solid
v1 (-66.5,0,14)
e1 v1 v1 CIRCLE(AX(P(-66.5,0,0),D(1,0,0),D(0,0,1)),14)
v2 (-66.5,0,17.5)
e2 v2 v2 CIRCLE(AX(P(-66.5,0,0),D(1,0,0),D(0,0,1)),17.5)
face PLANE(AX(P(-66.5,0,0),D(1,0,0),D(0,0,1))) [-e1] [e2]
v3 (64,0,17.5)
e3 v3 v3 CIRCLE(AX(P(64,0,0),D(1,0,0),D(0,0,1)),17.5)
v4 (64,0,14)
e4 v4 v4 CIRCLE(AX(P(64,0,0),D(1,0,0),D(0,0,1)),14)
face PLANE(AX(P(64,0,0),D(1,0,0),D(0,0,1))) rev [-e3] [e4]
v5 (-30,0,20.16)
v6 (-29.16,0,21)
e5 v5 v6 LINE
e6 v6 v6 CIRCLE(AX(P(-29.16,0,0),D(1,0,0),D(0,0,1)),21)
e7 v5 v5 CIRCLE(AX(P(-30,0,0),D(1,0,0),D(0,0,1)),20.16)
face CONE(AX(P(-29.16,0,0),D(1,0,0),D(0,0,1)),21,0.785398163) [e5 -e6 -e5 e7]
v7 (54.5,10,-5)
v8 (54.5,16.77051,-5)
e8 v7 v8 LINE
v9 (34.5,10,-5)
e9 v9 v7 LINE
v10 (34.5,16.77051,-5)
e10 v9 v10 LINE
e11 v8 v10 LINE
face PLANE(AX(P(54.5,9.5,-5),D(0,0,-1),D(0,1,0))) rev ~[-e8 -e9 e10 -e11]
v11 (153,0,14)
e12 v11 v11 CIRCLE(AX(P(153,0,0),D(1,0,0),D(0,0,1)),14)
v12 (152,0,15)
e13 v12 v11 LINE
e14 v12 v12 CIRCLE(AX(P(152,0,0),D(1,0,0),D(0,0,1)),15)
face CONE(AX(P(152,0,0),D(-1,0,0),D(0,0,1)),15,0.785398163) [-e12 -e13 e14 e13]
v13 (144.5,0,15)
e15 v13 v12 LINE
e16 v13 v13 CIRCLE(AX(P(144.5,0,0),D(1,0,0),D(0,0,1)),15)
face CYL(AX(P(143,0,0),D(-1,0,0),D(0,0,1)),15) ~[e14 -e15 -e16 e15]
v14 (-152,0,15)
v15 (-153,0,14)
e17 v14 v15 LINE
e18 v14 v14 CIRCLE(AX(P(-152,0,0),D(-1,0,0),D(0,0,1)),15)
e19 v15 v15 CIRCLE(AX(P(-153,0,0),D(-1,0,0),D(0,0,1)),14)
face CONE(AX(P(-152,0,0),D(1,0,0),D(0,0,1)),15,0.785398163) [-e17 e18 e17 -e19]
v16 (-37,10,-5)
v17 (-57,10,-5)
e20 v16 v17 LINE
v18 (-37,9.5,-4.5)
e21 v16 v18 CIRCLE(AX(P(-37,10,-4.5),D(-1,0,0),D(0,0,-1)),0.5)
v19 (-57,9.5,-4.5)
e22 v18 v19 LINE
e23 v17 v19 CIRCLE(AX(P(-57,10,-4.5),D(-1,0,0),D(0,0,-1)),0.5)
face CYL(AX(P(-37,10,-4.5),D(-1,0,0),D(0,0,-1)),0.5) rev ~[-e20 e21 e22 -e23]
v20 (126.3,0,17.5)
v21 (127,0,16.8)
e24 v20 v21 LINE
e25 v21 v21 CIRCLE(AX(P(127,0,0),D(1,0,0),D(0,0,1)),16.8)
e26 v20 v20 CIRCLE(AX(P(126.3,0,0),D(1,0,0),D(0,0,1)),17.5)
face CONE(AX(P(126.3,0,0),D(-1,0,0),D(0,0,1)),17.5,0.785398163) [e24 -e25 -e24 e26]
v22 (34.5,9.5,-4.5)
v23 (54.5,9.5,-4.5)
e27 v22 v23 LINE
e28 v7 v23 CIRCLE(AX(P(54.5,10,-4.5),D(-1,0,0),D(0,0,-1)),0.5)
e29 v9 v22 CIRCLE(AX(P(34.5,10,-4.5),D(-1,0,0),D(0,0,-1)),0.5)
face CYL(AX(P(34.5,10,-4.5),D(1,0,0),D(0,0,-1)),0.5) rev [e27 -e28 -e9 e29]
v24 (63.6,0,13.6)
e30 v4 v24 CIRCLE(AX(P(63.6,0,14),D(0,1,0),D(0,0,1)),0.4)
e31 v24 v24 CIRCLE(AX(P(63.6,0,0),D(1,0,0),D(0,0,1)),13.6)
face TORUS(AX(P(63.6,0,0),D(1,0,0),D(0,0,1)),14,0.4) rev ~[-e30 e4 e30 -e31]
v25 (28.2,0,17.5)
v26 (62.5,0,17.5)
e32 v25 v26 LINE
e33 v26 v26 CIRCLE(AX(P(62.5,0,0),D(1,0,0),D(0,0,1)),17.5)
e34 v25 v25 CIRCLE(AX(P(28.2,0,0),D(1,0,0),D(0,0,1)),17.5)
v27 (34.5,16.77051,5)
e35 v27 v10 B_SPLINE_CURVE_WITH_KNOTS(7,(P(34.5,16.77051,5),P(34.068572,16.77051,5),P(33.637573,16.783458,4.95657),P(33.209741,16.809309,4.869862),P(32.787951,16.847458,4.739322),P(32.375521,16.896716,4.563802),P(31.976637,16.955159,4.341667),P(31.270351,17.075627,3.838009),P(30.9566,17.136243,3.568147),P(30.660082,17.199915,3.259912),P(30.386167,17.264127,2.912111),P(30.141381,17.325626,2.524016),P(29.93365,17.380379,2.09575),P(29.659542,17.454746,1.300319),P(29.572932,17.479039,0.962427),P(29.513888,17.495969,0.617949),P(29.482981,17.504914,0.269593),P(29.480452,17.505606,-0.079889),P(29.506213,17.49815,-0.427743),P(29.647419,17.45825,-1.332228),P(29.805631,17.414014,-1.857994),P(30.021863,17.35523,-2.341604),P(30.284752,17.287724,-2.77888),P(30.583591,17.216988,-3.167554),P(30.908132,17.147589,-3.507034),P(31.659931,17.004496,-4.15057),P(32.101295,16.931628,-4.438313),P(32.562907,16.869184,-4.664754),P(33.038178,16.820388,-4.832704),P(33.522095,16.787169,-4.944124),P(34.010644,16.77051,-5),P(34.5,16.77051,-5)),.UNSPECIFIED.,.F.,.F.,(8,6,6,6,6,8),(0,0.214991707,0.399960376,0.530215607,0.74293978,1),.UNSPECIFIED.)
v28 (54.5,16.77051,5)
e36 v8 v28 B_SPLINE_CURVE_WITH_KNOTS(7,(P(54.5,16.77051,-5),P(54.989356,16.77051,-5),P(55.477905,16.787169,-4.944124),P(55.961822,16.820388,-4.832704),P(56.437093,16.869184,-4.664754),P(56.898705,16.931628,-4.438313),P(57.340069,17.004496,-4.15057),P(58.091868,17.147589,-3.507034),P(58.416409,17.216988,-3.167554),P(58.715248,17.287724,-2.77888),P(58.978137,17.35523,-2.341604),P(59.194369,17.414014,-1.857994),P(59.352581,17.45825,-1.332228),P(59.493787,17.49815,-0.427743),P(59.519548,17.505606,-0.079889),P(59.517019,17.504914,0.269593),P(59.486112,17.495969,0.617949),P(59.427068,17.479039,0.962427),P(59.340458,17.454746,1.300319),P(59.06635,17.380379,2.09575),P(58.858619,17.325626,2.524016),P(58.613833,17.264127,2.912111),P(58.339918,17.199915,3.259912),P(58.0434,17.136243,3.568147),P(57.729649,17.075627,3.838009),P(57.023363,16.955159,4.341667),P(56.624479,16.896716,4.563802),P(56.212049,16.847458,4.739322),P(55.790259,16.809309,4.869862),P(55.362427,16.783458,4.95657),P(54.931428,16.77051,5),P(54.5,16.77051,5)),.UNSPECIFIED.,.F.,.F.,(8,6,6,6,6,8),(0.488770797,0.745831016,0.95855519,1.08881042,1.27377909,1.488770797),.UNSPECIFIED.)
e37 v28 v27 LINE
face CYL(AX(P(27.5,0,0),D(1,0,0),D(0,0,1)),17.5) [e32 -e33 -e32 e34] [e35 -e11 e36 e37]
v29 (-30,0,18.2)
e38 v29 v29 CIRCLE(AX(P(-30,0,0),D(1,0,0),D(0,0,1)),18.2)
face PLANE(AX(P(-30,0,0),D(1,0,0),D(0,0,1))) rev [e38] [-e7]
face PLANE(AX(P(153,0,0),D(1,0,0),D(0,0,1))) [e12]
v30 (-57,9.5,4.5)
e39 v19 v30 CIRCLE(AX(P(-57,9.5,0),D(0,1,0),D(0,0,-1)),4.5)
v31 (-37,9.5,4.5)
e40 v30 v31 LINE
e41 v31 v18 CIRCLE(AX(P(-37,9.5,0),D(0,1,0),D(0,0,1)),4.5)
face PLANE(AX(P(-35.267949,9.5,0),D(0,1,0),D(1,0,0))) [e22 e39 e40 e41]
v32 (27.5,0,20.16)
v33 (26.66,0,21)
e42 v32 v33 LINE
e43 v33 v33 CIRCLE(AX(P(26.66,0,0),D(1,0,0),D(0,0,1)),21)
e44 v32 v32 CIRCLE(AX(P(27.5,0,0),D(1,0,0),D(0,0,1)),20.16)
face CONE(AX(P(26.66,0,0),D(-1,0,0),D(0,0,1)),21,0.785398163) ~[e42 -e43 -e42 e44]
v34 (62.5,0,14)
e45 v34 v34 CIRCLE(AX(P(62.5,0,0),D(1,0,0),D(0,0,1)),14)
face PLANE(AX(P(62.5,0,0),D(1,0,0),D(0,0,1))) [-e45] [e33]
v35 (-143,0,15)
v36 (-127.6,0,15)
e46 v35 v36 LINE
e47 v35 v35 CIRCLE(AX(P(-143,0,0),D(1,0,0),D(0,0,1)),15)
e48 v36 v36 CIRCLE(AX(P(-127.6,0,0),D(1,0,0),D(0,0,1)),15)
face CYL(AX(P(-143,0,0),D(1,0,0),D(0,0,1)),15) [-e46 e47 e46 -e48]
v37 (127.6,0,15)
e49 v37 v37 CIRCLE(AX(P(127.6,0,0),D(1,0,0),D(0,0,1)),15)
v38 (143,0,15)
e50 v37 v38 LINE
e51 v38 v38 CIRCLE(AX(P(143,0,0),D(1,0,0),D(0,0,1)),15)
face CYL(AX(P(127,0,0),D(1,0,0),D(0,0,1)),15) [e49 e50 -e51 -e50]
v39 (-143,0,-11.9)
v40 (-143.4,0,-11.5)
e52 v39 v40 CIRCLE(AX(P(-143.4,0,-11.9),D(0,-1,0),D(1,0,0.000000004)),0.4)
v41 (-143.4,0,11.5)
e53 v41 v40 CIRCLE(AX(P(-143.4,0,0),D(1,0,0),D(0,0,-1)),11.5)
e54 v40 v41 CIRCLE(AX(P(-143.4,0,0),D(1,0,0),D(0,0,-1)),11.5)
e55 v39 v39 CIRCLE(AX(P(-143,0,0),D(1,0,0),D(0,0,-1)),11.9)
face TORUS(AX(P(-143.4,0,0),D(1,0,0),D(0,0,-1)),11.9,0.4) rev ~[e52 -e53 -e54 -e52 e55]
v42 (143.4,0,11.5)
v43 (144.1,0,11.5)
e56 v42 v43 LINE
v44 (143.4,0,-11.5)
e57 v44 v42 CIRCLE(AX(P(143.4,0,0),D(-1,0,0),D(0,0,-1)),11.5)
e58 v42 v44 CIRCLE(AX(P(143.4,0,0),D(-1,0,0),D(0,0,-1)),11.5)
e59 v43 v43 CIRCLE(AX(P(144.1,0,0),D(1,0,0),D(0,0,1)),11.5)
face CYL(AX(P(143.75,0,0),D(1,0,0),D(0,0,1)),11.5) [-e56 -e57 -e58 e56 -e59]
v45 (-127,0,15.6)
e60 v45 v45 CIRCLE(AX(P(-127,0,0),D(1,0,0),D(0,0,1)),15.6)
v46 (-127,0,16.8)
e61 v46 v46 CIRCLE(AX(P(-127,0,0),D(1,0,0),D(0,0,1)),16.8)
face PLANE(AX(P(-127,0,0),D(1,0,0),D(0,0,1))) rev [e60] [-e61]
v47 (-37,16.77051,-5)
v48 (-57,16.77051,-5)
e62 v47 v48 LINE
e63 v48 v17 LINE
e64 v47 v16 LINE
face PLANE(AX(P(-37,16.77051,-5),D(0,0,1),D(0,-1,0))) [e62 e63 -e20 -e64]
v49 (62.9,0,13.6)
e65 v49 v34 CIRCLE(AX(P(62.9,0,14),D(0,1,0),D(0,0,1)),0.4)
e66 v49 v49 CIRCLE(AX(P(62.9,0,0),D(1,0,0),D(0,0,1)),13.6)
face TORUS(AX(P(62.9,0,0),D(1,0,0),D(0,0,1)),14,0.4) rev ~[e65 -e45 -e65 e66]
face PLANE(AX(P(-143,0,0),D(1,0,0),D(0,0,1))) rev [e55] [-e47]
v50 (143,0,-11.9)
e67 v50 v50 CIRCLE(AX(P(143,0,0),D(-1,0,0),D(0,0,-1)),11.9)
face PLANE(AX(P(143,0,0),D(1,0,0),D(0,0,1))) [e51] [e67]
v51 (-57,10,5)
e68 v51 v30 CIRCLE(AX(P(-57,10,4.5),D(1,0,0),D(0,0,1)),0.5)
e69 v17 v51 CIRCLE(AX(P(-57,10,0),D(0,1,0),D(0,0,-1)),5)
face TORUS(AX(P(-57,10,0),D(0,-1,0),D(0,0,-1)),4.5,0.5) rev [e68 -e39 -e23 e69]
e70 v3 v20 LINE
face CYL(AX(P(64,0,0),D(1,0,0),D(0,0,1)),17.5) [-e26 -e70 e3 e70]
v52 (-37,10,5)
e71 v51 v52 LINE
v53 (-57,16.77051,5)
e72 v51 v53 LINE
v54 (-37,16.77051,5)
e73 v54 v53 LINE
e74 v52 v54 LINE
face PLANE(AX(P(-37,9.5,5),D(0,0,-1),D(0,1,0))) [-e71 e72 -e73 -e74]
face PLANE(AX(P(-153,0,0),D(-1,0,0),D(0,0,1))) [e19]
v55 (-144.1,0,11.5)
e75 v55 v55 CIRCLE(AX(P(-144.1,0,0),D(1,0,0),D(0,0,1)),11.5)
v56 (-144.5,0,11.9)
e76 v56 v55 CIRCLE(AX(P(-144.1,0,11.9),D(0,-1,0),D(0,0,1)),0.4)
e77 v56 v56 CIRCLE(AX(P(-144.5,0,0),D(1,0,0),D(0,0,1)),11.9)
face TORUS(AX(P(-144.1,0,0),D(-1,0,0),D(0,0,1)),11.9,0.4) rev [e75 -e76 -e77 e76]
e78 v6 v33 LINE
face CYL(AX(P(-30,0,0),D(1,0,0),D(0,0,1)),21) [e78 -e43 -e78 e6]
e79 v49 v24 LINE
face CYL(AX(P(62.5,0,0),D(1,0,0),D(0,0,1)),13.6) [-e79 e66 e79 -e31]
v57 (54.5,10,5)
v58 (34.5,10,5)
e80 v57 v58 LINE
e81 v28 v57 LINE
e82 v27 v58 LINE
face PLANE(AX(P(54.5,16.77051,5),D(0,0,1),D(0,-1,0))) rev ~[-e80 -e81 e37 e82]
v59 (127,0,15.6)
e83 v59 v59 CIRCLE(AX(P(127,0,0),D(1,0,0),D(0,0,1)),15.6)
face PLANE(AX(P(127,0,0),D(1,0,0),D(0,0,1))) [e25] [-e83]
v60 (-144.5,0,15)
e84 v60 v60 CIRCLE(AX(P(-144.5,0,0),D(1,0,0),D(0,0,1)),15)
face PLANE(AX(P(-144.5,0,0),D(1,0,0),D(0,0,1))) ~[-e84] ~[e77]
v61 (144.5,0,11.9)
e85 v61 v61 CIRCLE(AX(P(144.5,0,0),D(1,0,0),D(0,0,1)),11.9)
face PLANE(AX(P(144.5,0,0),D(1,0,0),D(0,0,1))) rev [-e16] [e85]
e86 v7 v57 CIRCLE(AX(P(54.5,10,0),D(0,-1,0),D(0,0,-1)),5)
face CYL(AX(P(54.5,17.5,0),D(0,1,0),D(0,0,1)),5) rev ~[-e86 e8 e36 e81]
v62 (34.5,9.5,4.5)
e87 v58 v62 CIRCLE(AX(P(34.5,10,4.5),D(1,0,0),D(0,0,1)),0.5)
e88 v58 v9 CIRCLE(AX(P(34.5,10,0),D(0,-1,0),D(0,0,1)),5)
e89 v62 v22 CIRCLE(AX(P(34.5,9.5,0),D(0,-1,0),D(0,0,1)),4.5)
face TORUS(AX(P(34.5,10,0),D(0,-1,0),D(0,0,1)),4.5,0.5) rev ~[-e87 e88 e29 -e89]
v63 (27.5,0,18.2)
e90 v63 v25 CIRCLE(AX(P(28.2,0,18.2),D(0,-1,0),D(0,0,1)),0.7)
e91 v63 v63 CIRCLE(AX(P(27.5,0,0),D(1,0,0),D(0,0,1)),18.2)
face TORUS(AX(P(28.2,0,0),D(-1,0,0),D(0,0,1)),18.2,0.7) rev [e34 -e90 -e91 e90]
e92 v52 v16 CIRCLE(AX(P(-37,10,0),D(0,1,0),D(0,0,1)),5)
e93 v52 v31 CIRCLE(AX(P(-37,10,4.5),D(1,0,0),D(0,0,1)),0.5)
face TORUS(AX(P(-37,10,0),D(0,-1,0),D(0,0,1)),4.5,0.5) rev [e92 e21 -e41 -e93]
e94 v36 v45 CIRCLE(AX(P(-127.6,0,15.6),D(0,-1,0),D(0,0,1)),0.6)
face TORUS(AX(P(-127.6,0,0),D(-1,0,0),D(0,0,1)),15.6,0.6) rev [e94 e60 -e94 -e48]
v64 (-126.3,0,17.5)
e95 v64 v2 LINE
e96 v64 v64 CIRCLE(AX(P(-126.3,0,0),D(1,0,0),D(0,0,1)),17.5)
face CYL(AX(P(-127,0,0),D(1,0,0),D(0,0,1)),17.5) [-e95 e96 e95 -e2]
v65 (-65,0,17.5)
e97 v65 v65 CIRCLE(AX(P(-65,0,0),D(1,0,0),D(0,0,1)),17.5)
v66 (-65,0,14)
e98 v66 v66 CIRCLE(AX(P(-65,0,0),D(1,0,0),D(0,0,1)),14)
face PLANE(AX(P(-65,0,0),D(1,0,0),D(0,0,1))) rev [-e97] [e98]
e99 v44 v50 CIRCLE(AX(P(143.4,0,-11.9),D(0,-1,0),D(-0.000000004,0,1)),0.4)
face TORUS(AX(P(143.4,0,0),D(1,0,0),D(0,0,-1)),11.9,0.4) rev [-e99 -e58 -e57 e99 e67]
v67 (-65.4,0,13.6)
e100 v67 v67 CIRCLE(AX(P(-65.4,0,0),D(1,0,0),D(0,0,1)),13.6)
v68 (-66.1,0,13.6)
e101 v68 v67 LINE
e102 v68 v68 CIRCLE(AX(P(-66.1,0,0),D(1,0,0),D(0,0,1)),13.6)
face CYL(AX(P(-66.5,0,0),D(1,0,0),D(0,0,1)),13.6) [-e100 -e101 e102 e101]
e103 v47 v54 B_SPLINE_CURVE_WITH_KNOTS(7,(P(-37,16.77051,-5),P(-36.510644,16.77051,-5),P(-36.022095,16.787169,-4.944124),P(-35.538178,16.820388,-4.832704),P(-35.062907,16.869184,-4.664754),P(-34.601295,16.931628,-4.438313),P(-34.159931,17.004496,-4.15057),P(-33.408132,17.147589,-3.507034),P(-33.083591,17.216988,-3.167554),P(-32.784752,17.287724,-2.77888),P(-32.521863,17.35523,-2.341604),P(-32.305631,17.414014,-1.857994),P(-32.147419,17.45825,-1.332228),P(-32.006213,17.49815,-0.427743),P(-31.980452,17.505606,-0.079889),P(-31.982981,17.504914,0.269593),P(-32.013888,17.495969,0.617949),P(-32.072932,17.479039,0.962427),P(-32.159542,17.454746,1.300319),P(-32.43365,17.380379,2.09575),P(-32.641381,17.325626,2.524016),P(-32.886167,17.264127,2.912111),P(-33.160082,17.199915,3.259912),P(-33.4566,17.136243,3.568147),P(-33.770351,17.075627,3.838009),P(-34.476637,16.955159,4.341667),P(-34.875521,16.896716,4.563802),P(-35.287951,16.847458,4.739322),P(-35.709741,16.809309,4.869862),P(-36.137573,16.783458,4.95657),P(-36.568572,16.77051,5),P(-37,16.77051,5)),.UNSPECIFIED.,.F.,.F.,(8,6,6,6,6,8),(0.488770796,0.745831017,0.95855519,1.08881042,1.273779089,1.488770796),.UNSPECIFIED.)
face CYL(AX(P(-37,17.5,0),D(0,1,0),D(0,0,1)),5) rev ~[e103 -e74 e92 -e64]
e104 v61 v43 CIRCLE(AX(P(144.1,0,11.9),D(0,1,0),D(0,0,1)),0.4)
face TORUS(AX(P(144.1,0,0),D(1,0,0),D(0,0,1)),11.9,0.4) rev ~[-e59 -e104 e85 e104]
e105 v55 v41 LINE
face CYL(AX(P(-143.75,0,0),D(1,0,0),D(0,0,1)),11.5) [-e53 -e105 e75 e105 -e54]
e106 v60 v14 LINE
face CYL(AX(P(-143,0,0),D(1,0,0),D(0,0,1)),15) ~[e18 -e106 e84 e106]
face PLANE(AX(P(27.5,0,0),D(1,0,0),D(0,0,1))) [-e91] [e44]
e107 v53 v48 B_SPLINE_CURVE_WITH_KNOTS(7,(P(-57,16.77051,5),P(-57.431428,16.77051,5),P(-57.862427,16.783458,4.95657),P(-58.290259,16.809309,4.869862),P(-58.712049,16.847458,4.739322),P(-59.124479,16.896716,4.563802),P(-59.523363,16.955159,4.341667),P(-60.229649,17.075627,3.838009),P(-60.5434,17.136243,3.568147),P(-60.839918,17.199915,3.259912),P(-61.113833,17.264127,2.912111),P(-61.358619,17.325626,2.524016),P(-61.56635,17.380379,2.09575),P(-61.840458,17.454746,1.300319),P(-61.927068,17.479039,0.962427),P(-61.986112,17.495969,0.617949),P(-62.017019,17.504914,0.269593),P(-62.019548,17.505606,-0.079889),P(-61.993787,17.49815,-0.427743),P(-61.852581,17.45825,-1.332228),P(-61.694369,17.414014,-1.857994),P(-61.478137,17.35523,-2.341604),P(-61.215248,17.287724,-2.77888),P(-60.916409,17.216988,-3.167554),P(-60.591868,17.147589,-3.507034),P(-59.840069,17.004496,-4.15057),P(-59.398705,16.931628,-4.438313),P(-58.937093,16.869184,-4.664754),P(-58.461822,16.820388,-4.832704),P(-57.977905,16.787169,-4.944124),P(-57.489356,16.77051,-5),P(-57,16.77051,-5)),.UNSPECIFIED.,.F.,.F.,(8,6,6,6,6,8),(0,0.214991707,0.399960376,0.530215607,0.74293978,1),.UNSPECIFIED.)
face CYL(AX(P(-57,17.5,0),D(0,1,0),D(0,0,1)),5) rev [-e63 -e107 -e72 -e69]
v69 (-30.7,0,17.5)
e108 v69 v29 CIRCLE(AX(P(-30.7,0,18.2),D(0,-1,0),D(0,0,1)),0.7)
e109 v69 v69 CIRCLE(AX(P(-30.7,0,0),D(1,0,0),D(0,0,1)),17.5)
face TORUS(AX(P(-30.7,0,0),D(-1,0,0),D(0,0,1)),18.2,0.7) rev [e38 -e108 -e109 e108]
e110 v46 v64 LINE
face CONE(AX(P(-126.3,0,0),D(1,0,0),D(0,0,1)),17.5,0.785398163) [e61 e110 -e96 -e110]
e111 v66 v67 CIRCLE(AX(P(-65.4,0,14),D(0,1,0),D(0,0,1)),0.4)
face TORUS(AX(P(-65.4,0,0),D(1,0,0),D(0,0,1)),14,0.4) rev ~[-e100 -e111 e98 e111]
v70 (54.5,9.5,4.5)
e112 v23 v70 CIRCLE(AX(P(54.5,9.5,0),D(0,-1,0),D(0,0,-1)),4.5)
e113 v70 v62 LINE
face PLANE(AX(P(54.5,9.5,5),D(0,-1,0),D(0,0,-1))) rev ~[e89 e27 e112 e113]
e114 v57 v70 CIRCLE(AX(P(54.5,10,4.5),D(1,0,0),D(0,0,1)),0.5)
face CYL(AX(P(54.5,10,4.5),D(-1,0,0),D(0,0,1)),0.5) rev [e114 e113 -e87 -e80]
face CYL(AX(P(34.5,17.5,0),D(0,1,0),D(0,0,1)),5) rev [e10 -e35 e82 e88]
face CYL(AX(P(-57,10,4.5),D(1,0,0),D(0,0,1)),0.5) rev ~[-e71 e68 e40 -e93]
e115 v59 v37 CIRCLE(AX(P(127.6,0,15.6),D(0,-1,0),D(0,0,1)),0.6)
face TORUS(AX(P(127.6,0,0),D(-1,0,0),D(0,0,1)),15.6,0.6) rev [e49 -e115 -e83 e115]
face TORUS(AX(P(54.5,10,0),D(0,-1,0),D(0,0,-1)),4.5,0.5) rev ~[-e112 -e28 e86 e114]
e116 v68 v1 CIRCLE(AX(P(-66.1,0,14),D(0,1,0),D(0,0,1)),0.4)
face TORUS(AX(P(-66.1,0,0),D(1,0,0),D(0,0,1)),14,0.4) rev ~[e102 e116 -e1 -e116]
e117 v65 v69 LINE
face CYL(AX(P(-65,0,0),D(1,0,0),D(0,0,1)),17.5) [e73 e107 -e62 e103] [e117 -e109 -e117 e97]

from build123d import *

# Parameters (mm, degrees)
SKETCH2_R           = 15
BOSS_EXTRUDE1_DEPTH = 10
SKETCH4_W           = 1.5
SKETCH4_H           = 3.5
SKETCH5_R           = 15
BOSS_EXTRUDE2_DEPTH = 10
SKETCH6_W           = 1.5
SKETCH6_H           = 3.5
CUT_EXTRUDE1_DEPTH  = 20
CUT_EXTRUDE2_START  = 20
CUT_EXTRUDE2_DEPTH  = 20
FILLET5_R           = 0.6
CHAMFER1_SIZE       = 0.7
FILLET6_R           = 0.7
CHAMFER2_SIZE       = 0.84
FILLET7_R           = 0.7
CHAMFER3_SIZE       = 0.84
CHAMFER4_SIZE       = 0.7
FILLET8_R           = 0.6
CUT_EXTRUDE3_DEPTH  = 8
CUT_EXTRUDE4_DEPTH  = 8
FILLET9_R           = 0.4
FILLET10_R          = 0.4
FILLET11_R          = 0.4
FILLET12_R          = 0.4
FILLET13_R          = 0.5
CHAMFER5_SIZE       = 1
CHAMFER6_SIZE       = 1


with BuildPart() as part:
    # Sketch1 → Revolve1 (revolve)
    with BuildSketch(Plane.XY, mode=Mode.PRIVATE) as revolve1_sk:
        Polygon((-143, 0), (-143, 15), (-127, 15), (-127, 17.5), (-66.5, 17.5), (-66.5, 13.6), (-65, 13.6), (-65, 17.5), (-30, 17.5), (-30, 21), (27.5, 21), (27.5, 17.5), (62.5, 17.5), (62.5, 13.6), (64, 13.6), (64, 17.5), (127, 17.5), (127, 15), (143, 15), (143, 0), align=None)
    revolve(revolve1_sk.sketch.rotate(Axis((-143, 0, 0), (1, 0, 0)), 90), axis=Axis((-143, 0, 0), (1, 0, 0)))

    # Sketch7 → Cut-Extrude1 (cut)
    with BuildSketch(Plane.ZY.offset(37)):
        with BuildLine():
            Line((-5, 9.5), (5, 9.5))
            Line((5, 9.5), (5, 16.770509831))
            ThreePointArc((5, 16.770509831), (0, 17.5), (-5, 16.770509831))
            Line((-5, 16.770509831), (-5, 9.5))
        make_face()
    extrude(amount=CUT_EXTRUDE1_DEPTH, mode=Mode.SUBTRACT)

    # Sketch8 → Cut-Extrude2 (cut)
    with BuildSketch(Plane(origin=(34.5, 0, 0), x_dir=(0, 0, -1), z_dir=(1, 0, 0)).offset(CUT_EXTRUDE2_START)):
        with BuildLine():
            Line((-5, 9.5), (5, 9.5))
            Line((5, 9.5), (5, 16.770509831))
            ThreePointArc((5, 16.770509831), (0, 17.5), (-5, 16.770509831))
            Line((-5, 16.770509831), (-5, 9.5))
        make_face()
    extrude(amount=-CUT_EXTRUDE2_DEPTH, mode=Mode.SUBTRACT)

    # Fillet5
    fillet5_edges = [part.edges().sort_by_distance(p)[0] for p in [
        (-127, 0, -15),
    ]]
    fillet(fillet5_edges, radius=FILLET5_R)

    # Chamfer1
    chamfer1_edges = [part.edges().sort_by_distance(p)[0] for p in [
        (-127, 0, -17.5),
    ]]
    chamfer(chamfer1_edges, length=CHAMFER1_SIZE)

    # Fillet6
    fillet6_edges = [part.edges().sort_by_distance(p)[0] for p in [
        (-30, 0, -17.5),
    ]]
    fillet(fillet6_edges, radius=FILLET6_R)

    # Chamfer2
    chamfer2_edges = [part.edges().sort_by_distance(p)[0] for p in [
        (-30, 0, -21),
    ]]
    chamfer(chamfer2_edges, length=CHAMFER2_SIZE)

    # Fillet7
    fillet7_edges = [part.edges().sort_by_distance(p)[0] for p in [
        (27.5, 0, -17.5),
    ]]
    fillet(fillet7_edges, radius=FILLET7_R)

    # Chamfer3
    chamfer3_edges = [part.edges().sort_by_distance(p)[0] for p in [
        (27.5, 0, -21),
    ]]
    chamfer(chamfer3_edges, length=CHAMFER3_SIZE)

    # Chamfer4
    chamfer4_edges = [part.edges().sort_by_distance(p)[0] for p in [
        (127, 0, -17.5),
    ]]
    chamfer(chamfer4_edges, length=CHAMFER4_SIZE)

    # Fillet8
    fillet8_edges = [part.edges().sort_by_distance(p)[0] for p in [
        (127, 0, -15),
    ]]
    fillet(fillet8_edges, radius=FILLET8_R)

    # Sketch10 → Cut-Extrude3 (cut)
    with BuildSketch(Plane(origin=(0, 17.5, 0), x_dir=(1, 0, 0), z_dir=(0, 1, 0))):
        with BuildLine():
            Line((-57, 5), (-57, -5))
            ThreePointArc((-57, -5), (-62, 0), (-57, 5))
        make_face()
        with BuildLine():
            Line((-37, 5), (-37, -5))
            ThreePointArc((-37, -5), (-32, 0), (-37, 5))
        make_face()
    extrude(amount=-CUT_EXTRUDE3_DEPTH, mode=Mode.SUBTRACT)

    # Sketch11 → Cut-Extrude4 (cut)
    with BuildSketch(Plane(origin=(0, 17.5, 0), x_dir=(1, 0, 0), z_dir=(0, 1, 0))):
        with BuildLine():
            Line((34.5, 5), (34.5, -5))
            ThreePointArc((34.5, -5), (29.5, 0), (34.5, 5))
        make_face()
        with BuildLine():
            Line((54.5, 5), (54.5, -5))
            ThreePointArc((54.5, -5), (59.5, 0), (54.5, 5))
        make_face()
    extrude(amount=-CUT_EXTRUDE4_DEPTH, mode=Mode.SUBTRACT)



with BuildPart() as body_2:
    # Sketch2 → Boss-Extrude1 (new body)
    with BuildSketch(Plane.ZY.offset(143)):
        Circle(SKETCH2_R)
    extrude(amount=BOSS_EXTRUDE1_DEPTH)

    # Sketch4 → Cut-Revolve1 (revolve, cut)
    with BuildSketch(Plane.XY, mode=Mode.PRIVATE) as cut_revolve1_sk:
        with Locations((-143.75, 13.25)):
            Rectangle(SKETCH4_W, SKETCH4_H)
    revolve(cut_revolve1_sk.sketch.rotate(Axis((-153, 0, 0), (1, 0, 0)), 90), axis=Axis((-153, 0, 0), (1, 0, 0)), mode=Mode.SUBTRACT)

    # Fillet12
    fillet12_edges = [body_2.edges().sort_by_distance(p)[0] for p in [
        (-144.5, 0, -11.5),
    ]]
    fillet(fillet12_edges, radius=FILLET12_R)


with BuildPart() as body_3:
    # Sketch5 → Boss-Extrude2 (new body)
    with BuildSketch(Plane(origin=(143, 0, 0), x_dir=(0, 0, -1), z_dir=(1, 0, 0))):
        with Locations(Location((0, 0, 0), (0, 0, 180))):
            Circle(SKETCH5_R)
    extrude(amount=BOSS_EXTRUDE2_DEPTH)

    # Sketch6 → Cut-Revolve2 (revolve, cut)
    with BuildSketch(Plane.XY, mode=Mode.PRIVATE) as cut_revolve2_sk:
        with Locations((143.75, 13.25)):
            Rectangle(SKETCH6_W, SKETCH6_H)
    revolve(cut_revolve2_sk.sketch.rotate(Axis((-153, 0, 0), (1, 0, 0)), 90), axis=Axis((-153, 0, 0), (1, 0, 0)), mode=Mode.SUBTRACT)

    # Fillet9
    fillet9_edges = [body_3.edges().sort_by_distance(p)[0] for p in [
        (144.5, 0, -11.5),
    ]]
    fillet(fillet9_edges, radius=FILLET9_R)


with BuildPart() as part_1:
    add(part.part)

    add(body_3.part)  # Revolve2 merges body 3
    # Sketch12 → Revolve2 (revolve)
    with BuildSketch(Plane.XY, mode=Mode.PRIVATE) as revolve2_sk:
        with BuildLine():
            Line((143, 11.9), (143, 11.5))
            Line((143, 11.5), (143.4, 11.5))
            ThreePointArc((143.4, 11.5), (143.117157288, 11.617157288), (143, 11.9))
        make_face()
    revolve(revolve2_sk.sketch.rotate(Axis((153, 0, 0), (-1, 0, 0)), 90), axis=Axis((153, 0, 0), (-1, 0, 0)))

    # Fillet10
    fillet10_edges = [part_1.edges().sort_by_distance(p)[0] for p in [
        (62.5, 0, -13.6),
        (64, 0, -13.6),
    ]]
    fillet(fillet10_edges, radius=FILLET10_R)

    # Fillet11
    fillet11_edges = [part_1.edges().sort_by_distance(p)[0] for p in [
        (-66.5, 0, -13.6),
        (-65, 0, -13.6),
    ]]
    fillet(fillet11_edges, radius=FILLET11_R)


    add(body_2.part)  # Revolve3 merges body 2
    # Sketch13 → Revolve3 (revolve)
    with BuildSketch(Plane.XY, mode=Mode.PRIVATE) as revolve3_sk:
        with BuildLine():
            Line((-143.4, 11.5), (-143, 11.5))
            Line((-143, 11.5), (-143, 11.9))
            ThreePointArc((-143, 11.9), (-143.117157288, 11.617157288), (-143.4, 11.5))
        make_face()
    revolve(revolve3_sk.sketch.rotate(Axis((-153, 0, 0), (1, 0, 0)), 270), axis=Axis((-153, 0, 0), (1, 0, 0)))

    # Fillet13
    fillet13_edges = [part_1.edges().sort_by_distance(p)[0] for p in [
        (-47, 9.5, -5),
        (-47, 9.5, 5),
        (44.5, 9.5, 5),
        (44.5, 9.5, -5),
        (-32, 9.5, 0),
        (-62, 9.5, 0),
        (29.5, 9.5, 0),
        (59.5, 9.5, 0),
    ]]
    fillet(fillet13_edges, radius=FILLET13_R)

    # Chamfer5
    chamfer5_edges = [part_1.edges().sort_by_distance(p)[0] for p in [
        (153, 0, -15),
    ]]
    chamfer(chamfer5_edges, length=CHAMFER5_SIZE)

    # Chamfer6
    chamfer6_edges = [part_1.edges().sort_by_distance(p)[0] for p in [
        (-153, 0, -15),
    ]]
    chamfer(chamfer6_edges, length=CHAMFER6_SIZE)


solid = part_1.part
